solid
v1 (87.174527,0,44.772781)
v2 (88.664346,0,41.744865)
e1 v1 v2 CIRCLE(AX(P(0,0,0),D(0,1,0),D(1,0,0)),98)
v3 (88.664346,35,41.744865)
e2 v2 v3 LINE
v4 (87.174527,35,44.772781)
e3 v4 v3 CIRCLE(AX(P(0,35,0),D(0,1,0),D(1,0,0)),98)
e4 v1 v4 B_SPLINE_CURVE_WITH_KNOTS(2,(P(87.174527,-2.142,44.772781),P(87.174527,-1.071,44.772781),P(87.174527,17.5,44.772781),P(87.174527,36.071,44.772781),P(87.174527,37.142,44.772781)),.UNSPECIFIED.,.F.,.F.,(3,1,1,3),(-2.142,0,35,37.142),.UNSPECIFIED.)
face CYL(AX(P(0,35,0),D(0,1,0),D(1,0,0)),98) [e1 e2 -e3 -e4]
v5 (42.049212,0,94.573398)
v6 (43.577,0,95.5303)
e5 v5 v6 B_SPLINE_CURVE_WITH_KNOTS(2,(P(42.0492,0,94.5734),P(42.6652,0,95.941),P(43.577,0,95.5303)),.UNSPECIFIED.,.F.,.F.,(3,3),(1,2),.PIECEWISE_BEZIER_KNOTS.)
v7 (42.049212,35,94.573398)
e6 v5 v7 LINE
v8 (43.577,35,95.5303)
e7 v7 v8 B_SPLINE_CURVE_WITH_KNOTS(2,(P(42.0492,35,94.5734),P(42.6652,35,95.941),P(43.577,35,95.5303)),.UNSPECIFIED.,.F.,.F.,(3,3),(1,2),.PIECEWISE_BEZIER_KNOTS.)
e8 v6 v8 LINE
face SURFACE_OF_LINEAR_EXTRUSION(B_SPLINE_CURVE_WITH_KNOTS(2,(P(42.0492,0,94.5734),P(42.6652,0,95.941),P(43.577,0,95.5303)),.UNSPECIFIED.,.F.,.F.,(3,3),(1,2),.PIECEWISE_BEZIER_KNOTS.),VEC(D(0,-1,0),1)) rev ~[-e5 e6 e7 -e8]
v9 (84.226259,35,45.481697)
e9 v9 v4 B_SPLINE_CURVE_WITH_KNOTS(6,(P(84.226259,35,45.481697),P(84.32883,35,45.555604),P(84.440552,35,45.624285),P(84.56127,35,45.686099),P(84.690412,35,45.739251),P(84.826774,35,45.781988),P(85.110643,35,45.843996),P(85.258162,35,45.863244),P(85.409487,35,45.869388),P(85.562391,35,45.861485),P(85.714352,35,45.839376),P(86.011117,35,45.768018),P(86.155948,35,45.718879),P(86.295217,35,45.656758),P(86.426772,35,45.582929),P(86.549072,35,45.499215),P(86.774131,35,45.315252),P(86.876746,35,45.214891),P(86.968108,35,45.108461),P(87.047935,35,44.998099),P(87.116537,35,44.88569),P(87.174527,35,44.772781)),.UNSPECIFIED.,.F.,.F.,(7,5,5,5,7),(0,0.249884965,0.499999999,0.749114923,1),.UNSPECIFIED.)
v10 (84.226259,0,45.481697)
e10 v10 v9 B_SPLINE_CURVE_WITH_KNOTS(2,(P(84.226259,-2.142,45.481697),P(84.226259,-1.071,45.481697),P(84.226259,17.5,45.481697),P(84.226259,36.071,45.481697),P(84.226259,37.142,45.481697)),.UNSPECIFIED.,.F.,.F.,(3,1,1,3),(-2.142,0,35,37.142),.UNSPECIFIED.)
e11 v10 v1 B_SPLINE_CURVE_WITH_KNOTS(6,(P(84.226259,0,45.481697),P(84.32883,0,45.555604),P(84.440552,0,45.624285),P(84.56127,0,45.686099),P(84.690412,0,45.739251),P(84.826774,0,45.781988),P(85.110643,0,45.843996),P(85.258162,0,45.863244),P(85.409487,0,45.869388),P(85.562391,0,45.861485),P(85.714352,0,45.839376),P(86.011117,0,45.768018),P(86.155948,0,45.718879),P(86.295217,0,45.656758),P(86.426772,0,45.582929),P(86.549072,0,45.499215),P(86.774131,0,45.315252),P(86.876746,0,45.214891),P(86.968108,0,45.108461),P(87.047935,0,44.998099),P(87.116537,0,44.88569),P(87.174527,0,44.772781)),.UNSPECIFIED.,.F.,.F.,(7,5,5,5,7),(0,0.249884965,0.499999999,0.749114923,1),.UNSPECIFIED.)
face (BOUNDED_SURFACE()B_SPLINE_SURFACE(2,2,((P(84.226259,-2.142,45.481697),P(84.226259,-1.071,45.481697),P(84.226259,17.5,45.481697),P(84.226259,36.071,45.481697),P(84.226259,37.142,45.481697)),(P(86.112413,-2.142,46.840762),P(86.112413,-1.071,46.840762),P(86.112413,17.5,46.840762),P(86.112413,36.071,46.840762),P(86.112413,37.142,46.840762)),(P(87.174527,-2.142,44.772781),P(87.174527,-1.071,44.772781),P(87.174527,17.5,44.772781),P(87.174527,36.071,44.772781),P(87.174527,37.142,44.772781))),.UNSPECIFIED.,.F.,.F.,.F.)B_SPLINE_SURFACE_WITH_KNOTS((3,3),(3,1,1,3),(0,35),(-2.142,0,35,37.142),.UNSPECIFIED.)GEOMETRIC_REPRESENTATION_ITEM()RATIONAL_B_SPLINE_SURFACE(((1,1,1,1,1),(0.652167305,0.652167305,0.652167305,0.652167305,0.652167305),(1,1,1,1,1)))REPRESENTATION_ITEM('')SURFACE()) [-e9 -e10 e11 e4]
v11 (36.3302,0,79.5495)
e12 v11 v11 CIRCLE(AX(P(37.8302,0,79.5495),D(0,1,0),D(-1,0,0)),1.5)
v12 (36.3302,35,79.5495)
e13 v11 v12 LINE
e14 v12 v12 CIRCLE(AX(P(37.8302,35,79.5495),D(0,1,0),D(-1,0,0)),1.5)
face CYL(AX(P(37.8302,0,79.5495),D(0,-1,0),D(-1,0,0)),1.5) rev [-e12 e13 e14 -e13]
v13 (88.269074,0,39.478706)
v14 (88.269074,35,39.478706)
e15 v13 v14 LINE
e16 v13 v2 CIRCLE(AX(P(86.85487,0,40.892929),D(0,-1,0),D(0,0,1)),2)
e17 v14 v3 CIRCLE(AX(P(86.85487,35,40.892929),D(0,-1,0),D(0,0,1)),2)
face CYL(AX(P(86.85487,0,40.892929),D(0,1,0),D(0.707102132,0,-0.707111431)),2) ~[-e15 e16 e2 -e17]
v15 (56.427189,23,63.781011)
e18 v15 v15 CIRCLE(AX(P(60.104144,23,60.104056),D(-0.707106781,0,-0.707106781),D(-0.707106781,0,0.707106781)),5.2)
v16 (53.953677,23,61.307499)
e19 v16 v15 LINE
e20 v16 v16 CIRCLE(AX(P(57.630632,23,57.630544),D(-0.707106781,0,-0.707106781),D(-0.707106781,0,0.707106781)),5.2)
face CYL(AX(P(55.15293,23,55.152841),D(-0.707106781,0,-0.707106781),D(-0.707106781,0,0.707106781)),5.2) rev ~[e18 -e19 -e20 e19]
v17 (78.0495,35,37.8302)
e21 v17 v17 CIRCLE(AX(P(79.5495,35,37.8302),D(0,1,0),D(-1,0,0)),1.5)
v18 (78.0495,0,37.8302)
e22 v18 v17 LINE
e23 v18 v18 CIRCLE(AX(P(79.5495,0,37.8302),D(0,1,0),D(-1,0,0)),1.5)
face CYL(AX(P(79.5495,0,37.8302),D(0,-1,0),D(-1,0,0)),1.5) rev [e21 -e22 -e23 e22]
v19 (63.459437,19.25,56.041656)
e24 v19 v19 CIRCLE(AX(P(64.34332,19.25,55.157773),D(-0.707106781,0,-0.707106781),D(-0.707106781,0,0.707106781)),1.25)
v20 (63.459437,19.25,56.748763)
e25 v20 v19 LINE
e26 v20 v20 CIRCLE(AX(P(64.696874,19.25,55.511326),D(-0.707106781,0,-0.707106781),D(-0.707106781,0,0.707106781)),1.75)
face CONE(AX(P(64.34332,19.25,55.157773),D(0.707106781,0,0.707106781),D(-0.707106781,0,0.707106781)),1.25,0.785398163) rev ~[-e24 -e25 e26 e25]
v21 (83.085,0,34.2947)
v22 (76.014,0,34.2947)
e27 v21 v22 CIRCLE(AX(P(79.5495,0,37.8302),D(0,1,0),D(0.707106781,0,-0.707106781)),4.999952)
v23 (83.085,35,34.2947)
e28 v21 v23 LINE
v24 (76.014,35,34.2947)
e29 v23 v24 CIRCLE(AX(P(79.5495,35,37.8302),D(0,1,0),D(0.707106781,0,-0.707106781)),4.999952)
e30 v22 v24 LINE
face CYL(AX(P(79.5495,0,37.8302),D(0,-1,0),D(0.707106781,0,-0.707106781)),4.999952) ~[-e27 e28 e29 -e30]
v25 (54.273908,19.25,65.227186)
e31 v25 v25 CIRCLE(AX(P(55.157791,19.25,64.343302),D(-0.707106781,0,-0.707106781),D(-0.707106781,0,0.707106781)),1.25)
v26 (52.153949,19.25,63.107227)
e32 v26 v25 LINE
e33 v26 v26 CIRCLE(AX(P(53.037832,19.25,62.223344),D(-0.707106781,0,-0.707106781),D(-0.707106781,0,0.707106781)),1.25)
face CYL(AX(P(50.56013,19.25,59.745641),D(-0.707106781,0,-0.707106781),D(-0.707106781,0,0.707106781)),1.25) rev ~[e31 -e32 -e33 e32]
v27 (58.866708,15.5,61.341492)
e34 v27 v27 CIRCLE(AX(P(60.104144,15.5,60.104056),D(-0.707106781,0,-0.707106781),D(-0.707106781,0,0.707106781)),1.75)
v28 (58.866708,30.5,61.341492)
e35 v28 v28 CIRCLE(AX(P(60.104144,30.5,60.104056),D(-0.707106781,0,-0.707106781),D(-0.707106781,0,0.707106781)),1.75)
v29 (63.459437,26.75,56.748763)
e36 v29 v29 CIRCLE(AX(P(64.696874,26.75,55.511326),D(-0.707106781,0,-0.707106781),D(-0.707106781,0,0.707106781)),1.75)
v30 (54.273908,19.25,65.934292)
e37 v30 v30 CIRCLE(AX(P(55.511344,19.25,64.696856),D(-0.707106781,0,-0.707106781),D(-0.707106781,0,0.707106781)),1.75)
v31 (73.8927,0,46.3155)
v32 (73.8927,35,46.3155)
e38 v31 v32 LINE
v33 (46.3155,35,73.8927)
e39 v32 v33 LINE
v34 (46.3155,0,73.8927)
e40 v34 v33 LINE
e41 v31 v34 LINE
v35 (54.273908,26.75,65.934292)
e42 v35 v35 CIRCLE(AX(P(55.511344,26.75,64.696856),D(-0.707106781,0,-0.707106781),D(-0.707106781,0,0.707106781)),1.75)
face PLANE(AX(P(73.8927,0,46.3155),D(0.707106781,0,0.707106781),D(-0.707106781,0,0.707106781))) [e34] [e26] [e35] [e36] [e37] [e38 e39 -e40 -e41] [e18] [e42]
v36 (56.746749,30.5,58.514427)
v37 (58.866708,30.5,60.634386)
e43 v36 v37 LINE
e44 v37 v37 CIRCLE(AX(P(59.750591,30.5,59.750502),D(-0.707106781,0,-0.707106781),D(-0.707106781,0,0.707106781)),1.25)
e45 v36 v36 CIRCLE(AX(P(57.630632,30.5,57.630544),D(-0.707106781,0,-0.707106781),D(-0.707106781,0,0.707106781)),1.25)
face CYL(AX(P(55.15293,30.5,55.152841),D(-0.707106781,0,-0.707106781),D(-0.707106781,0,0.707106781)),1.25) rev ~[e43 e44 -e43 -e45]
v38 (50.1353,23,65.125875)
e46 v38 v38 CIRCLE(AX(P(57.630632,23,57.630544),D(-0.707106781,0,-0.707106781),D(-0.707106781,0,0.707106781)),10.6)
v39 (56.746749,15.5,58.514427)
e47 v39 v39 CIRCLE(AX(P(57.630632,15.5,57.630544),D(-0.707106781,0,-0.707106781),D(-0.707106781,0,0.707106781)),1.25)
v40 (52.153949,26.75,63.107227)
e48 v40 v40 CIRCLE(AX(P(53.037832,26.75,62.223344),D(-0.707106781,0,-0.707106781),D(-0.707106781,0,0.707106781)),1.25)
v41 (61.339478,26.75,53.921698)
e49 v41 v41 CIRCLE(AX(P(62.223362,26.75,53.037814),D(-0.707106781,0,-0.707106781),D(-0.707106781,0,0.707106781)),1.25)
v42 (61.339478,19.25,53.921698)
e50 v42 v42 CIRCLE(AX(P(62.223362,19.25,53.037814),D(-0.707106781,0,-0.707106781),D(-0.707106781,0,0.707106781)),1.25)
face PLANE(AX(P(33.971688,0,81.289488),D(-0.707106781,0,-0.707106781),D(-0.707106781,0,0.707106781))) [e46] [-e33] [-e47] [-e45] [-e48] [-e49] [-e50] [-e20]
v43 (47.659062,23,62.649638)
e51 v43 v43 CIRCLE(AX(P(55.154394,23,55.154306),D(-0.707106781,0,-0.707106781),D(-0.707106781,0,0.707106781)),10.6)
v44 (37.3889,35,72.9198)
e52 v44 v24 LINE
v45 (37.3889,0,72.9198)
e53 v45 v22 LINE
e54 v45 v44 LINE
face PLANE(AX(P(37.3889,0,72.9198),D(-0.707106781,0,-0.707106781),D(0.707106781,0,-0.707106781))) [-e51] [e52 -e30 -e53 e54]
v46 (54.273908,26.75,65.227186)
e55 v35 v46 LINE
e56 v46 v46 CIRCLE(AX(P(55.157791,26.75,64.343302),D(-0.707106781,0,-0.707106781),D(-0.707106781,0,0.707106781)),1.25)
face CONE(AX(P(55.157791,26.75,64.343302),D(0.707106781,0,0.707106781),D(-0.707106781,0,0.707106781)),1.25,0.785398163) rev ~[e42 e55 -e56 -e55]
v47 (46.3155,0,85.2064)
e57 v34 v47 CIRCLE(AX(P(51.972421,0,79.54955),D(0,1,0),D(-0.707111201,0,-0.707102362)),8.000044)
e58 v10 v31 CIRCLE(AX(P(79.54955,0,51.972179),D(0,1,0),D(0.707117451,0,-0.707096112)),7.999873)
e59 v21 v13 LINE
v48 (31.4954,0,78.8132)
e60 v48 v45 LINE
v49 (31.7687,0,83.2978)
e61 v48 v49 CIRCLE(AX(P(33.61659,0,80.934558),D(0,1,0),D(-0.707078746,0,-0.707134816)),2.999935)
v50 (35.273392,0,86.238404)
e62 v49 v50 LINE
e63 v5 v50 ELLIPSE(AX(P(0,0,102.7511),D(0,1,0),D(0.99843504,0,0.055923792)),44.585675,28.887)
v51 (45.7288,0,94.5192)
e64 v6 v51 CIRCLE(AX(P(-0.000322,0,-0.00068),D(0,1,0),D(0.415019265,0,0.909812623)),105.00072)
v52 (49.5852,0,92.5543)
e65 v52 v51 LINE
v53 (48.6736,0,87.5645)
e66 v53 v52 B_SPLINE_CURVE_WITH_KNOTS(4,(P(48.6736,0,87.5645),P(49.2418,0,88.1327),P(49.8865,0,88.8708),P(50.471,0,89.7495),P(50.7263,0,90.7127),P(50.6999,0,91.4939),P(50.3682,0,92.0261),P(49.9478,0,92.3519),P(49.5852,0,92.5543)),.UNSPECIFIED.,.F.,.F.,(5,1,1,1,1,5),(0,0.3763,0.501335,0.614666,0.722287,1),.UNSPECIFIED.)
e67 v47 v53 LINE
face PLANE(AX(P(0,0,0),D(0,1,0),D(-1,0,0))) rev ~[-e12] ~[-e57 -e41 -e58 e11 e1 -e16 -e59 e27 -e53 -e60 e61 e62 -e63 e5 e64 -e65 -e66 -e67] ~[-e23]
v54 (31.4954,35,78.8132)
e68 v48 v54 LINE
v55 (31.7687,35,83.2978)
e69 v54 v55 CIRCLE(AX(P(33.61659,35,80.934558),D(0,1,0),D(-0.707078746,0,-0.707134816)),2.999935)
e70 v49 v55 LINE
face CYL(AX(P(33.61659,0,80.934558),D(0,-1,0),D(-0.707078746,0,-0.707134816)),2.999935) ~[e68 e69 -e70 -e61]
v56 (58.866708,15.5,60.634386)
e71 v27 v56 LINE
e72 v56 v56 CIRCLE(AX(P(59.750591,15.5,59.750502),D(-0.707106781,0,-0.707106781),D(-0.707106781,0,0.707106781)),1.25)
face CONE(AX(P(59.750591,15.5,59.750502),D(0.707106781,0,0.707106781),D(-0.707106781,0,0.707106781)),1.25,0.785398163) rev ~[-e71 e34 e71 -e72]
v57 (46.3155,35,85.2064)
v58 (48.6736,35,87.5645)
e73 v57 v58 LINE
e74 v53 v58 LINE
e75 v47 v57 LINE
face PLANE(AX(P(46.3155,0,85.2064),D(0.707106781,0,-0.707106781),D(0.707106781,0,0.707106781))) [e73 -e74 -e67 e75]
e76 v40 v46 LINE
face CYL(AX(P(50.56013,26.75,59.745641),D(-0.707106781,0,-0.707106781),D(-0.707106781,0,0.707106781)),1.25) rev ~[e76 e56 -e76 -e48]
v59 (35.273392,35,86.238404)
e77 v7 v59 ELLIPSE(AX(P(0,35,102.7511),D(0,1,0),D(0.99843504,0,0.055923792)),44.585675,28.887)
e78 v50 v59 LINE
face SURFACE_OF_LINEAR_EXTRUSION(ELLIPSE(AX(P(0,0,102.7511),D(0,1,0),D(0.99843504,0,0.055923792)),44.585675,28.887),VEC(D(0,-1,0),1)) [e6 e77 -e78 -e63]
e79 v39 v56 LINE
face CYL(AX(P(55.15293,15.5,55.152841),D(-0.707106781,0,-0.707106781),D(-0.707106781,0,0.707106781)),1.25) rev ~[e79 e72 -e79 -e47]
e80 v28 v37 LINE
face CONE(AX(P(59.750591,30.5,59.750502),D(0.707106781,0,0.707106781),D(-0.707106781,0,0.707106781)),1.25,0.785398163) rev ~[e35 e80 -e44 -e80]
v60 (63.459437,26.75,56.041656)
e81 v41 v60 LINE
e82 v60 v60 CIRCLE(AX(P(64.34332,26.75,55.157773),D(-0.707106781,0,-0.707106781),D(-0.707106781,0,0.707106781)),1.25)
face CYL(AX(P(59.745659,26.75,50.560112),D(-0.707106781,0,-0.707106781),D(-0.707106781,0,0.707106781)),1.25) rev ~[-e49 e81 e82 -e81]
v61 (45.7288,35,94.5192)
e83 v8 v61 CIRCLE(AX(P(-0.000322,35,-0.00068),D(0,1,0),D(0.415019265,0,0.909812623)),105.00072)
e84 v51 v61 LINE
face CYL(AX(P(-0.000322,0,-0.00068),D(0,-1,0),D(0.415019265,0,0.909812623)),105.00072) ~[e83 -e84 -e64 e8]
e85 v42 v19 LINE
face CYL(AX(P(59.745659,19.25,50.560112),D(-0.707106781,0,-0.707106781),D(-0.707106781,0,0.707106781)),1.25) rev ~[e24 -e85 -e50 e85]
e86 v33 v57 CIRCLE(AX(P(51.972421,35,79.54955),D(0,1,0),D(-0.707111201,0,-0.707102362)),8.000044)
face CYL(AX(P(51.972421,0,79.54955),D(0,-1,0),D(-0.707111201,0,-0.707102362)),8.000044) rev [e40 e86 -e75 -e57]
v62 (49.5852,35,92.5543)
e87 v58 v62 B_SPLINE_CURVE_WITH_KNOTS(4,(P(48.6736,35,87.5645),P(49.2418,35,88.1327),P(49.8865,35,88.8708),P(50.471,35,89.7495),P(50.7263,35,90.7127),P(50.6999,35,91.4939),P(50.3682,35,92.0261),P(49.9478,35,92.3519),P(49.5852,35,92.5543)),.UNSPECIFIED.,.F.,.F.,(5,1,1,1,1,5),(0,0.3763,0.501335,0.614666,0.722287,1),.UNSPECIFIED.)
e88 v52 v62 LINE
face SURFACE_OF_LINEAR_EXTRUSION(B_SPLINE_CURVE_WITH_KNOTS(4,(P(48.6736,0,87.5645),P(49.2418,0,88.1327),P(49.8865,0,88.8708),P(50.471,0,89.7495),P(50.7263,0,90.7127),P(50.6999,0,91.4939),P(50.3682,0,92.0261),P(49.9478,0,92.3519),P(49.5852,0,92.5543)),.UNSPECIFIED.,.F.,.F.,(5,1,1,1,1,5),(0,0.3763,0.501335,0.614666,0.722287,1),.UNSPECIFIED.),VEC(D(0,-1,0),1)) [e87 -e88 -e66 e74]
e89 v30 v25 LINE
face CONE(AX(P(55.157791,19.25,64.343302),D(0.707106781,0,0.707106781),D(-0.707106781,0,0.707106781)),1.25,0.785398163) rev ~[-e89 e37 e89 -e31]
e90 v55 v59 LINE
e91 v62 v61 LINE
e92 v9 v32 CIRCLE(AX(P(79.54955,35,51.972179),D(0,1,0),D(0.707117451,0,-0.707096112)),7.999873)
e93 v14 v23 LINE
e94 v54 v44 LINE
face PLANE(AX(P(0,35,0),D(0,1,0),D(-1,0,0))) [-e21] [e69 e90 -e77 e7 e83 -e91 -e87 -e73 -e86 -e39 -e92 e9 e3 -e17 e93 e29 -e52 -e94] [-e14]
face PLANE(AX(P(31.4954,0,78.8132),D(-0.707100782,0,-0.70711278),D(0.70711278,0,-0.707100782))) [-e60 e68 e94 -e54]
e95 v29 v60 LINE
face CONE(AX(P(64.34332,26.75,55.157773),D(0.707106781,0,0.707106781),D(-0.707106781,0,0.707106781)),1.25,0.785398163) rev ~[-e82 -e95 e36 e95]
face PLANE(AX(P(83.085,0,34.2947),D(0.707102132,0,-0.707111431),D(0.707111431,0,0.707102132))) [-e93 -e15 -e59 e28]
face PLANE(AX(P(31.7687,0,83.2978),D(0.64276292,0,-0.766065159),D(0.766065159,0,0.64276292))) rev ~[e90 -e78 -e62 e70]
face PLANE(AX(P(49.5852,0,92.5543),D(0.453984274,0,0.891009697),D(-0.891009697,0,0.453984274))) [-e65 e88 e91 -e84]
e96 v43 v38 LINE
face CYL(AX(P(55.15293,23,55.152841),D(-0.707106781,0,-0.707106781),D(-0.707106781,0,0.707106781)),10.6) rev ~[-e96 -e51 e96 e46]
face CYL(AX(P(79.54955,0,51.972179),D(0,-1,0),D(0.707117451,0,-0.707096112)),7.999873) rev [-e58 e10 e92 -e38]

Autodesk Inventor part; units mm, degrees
ref_plane "YZ Plane" through (0, 0, 0) normal (1, 0, 0) x (0, 1, 0)
ref_plane "XZ Plane" through (0, 0, 0) normal (0, 1, 0) x (-1, 0, 0)
ref_plane "XY Plane" through (0, 0, 0) normal (0, 0, 1) x (1, 0, 0)
sketch "Эскиз1" plane through (0, 0, 0) normal (0, 1, 0) x (-1, 0, 0)
  line L0 (34.2947, -76.014) -> (76.014, -34.2947)
  arc A0 (83.085, -34.2947) -> (76.014, -34.2947) centre (79.5495, -37.8302) ccw
  line L1 (83.085, -34.2947) -> (87.156, -38.3657)
  line L2 (46.3155, -73.8927) -> (73.8927, -46.3155)
  arc A1 (85.2064, -46.3155) -> (73.8927, -46.3155) centre (79.5495, -51.9723) ccw
  line L3 (85.2064, -46.3155) -> (87.5645, -48.6736)
  line L4 (92.5543, -49.5852) -> (94.5192, -45.7288)
  line L5 (87.156, -38.3657) -> (94.5192, -45.7288)
  line L6 (34.2947, -83.085) -> (38.3657, -87.156)
  arc A2 (34.2947, -76.014) -> (34.2947, -83.085) centre (37.8302, -79.5495) ccw
  arc A3 (46.3155, -73.8927) -> (46.3155, -85.2064) centre (51.9723, -79.5495) ccw
  line L7 (48.6736, -87.5645) -> (46.3155, -85.2064)
  line L8 (48.7014, -93.0224) -> (45.7288, -94.5192)
  line L9 (38.3657, -87.156) -> (45.7288, -94.5192)
  spline S0 degree 4 poles (87.5645, -48.6736) (88.1327, -49.2418) (88.8708, -49.8865) (89.7495, -50.471) (90.7127, -50.7263) (91.4939, -50.6999) (92.0261, -50.3682) (92.3519, -49.9478) (92.5543, -49.5852) knots 0 0 0 0 0 0.3763 0.501335 0.614666 0.722287 1 1 1 1 1
  spline S1 degree 4 poles (48.6736, -87.5645) (49.2196, -88.1111) (49.8318, -88.8375) (50.3553, -89.7359) (50.492, -90.7638) (50.3179, -91.6771) (49.7988, -92.3195) (49.2087, -92.7429) (48.7014, -93.0224) knots 0 0 0 0 0 0.349502 0.469309 0.582088 0.694155 1 1 1 1 1
  line L10 (-34.2947, -83.085) -> (-38.3657, -87.156)
  arc A4 (-34.2947, -83.085) -> (-34.2947, -76.014) centre (-37.8302, -79.5495) ccw
  line L11 (-34.2947, -76.014) -> (-76.014, -34.2947)
  arc A5 (-76.014, -34.2947) -> (-83.085, -34.2947) centre (-79.5495, -37.8302) ccw
  line L12 (-83.085, -34.2947) -> (-87.156, -38.3657)
  spline S2 degree 4 poles (-87.5645, -48.6736) (-88.2885, -48.9172) (-89.2042, -49.1636) (-90.2127, -49.3583) (-91.1755, -49.4962) (-91.8005, -49.5722) (-92.1945, -49.6037) (-92.4378, -49.611) (-92.5543, -49.5852) knots 0 0 0 0 0 0.418057 0.557932 0.680976 0.788364 1 1 1 1 1
  line L13 (-85.2064, -46.3155) -> (-87.5645, -48.6736)
  arc A6 (-73.8927, -46.3155) -> (-85.2064, -46.3155) centre (-79.5495, -51.9723) ccw
  line L14 (-46.3155, -73.8927) -> (-73.8927, -46.3155)
  arc A7 (-46.3155, -85.2064) -> (-46.3155, -73.8927) centre (-51.9723, -79.5495) ccw
  spline S3 degree 4 poles (-48.6736, -87.5645) (-49.2196, -88.1111) (-49.8318, -88.8375) (-50.3553, -89.7359) (-50.492, -90.7638) (-50.3179, -91.6771) (-49.7988, -92.3195) (-49.2087, -92.7429) (-48.7014, -93.0224) knots 0 0 0 0 0 0.349502 0.469309 0.582088 0.694155 1 1 1 1 1
  line L15 (-48.6736, -87.5645) -> (-46.3155, -85.2064)
  arc A8 (-92.5543, 49.5852) -> (-92.5543, -49.5852) centre (0, 0) ccw construction
  arc A9 (-48.7014, -93.0224) -> (48.7014, -93.0224) centre (0, 0) ccw construction
  line L16 (-38.3657, -87.156) -> (-45.7288, -94.5192)
  line L17 (-87.156, -38.3657) -> (-94.5192, -45.7288)
  line L18 (-92.5543, -49.5852) -> (-94.5192, -45.7288)
  line L19 (-48.7014, -93.0224) -> (-45.7288, -94.5192)
  line L20 (0, 0) -> (0, 95.3237) construction
  line L21 (34.2947, -76.014) -> (76.014, -34.2947)
  arc A10 (83.085, -34.2947) -> (76.014, -34.2947) centre (79.5495, -37.8302) ccw
  line L22 (83.085, -34.2947) -> (87.156, -38.3657)
  line L23 (46.3155, -73.8927) -> (73.8927, -46.3155)
  arc A11 (85.2064, -46.3155) -> (73.8927, -46.3155) centre (79.5495, -51.9723) ccw
  line L24 (85.2064, -46.3155) -> (87.5645, -48.6736)
  line L25 (92.5543, -49.5852) -> (94.5192, -45.7288)
  arc A12 (92.5543, -49.5852) -> (92.5543, 49.5852) centre (0, 0) ccw construction
  line L26 (87.156, -38.3657) -> (94.5192, -45.7288)
  line L27 (34.2947, -83.085) -> (38.3657, -87.156)
  arc A13 (34.2947, -76.014) -> (34.2947, -83.085) centre (37.8302, -79.5495) ccw
  arc A14 (46.3155, -73.8927) -> (46.3155, -85.2064) centre (51.9723, -79.5495) ccw
  line L28 (48.6736, -87.5645) -> (46.3155, -85.2064)
  line L29 (48.7014, -93.0224) -> (45.7288, -94.5192)
  line L30 (38.3657, -87.156) -> (45.7288, -94.5192)
  arc A15 (-48.7014, -93.0224) -> (48.7014, -93.0224) centre (0, 0) ccw construction
  spline S4 degree 4 poles (87.5645, -48.6736) (88.1327, -49.2418) (88.8708, -49.8865) (89.7495, -50.471) (90.7127, -50.7263) (91.4939, -50.6999) (92.0261, -50.3682) (92.3519, -49.9478) (92.5543, -49.5852) knots 0 0 0 0 0 0.3763 0.501335 0.614666 0.722287 1 1 1 1 1
  spline S5 degree 4 poles (48.6736, -87.5645) (49.2196, -88.1111) (49.8318, -88.8375) (50.3553, -89.7359) (50.492, -90.7638) (50.3179, -91.6771) (49.7988, -92.3195) (49.2087, -92.7429) (48.7014, -93.0224) knots 0 0 0 0 0 0.349502 0.469309 0.582088 0.694155 1 1 1 1 1
  line L31 (52.2091, 91.1) -> (48.6736, 87.5645) construction
  line L32 (52.2091, 91.1) -> (48.6736, 87.5645) construction
  line L33 (48.6736, 87.5645) -> (52.2091, 91.1) construction
  spline S6 degree 2 poles (48.6736, 87.5645) (52.2091, 91.1) (48.7014, 93.0224) knots 1 1 1 2 2 2 construction
  line L34 (52.2091, 91.1) -> (48.7014, 93.0224) construction
  line L35 (91.1, 52.2091) -> (52.2091, 91.1) construction
  arc A16 (92.5543, 49.5852) -> (48.7014, 93.0224) centre (0, 0) ccw construction
  line L36 (44.1942, 76.014) -> (76.014, 44.1942) construction
  line L37 (0, 56.6418) -> (-35.5516, 86.4744) construction
  arc A17 (0, 67.941) -> (23.7825, 76.5969) centre (0, 104.941) ccw construction
  arc A18 (-23.7825, 76.5969) -> (0, 67.941) centre (0, 104.941) ccw construction
  line L38 (-23.7825, 76.5969) -> (-35.2734, 86.2384) construction
  line L39 (0, 104.941) -> (-23.6028, 54.3247) construction
  arc A19 (-28.0199, 71.0163) -> (5.5413, 61.2914) centre (0, 104.941) ccw construction
  arc A20 (5.5413, 61.2914) -> (28.0199, 71.0163) centre (0, 104.941) ccw construction
  arc A21 (-30.6393, 73.2144) -> (-37.3889, 72.9198) centre (-33.8534, 69.3842) ccw construction
  line L40 (0, 56.6418) -> (23.7825, 76.5969) construction
  line L41 (23.7825, 76.5969) -> (35.2734, 86.2384) construction
  line L42 (0, 0) -> (74.2462, 74.2462) construction
  line L43 (42.6652, 95.941) -> (42.0492, 94.5734) construction
  line L44 (42.0492, 94.5734) -> (42.6652, 95.941) construction
  spline S7 degree 2 poles (42.0492, 94.5734) (42.6652, 95.941) (43.577, 95.5303) knots 1 1 1 2 2 2 construction
  line L45 (42.6652, 95.941) -> (43.577, 95.5303) construction
  arc A22 (-44.1942, 76.014) -> (-44.1942, 83.085) centre (-47.7297, 79.5495) ccw construction
  arc A23 (92.5543, -49.5852) -> (92.5543, 49.5852) centre (0, 0) ccw construction
  circle A24 centre (0, 0) radius 35 construction
  spline S8 degree 2 poles (-48.6736, 87.5645) (-52.2091, 91.1) (-48.7014, 93.0224) knots 1 1 1 2 2 2 construction
  line L46 (-48.6736, 87.5645) -> (-52.2091, 91.1) construction
  line L47 (-52.2091, 91.1) -> (-48.7014, 93.0224) construction
  arc A25 (-83.085, 44.1942) -> (-76.014, 44.1942) centre (-79.5495, 47.7297) ccw construction
  line L48 (-83.085, 44.1942) -> (-85.2064, 46.3155) construction
  line L49 (-44.1942, 76.014) -> (-46.3155, 73.8927) construction
  arc A26 (-48.7014, 93.0224) -> (-92.5543, 49.5852) centre (0, 0) ccw construction
  line L50 (-42.6652, 95.941) -> (-42.0492, 94.5734) construction
  arc A27 (-43.577, 95.5303) -> (-48.7014, 93.0224) centre (0, 0) ccw
  ellipse E0 centre (0, 102.7511) end of major axis (-44.5159, 105.2445) minor radius 28.887 (-42.0492, 94.5734) -> (-35.2734, 86.2384) ccw
  line L51 (-42.0492, 94.5734) -> (-42.6652, 95.941) construction
  spline S9 degree 2 poles (-42.0492, 94.5734) (-42.6652, 95.941) (-43.577, 95.5303) knots 1 1 1 2 2 2 construction
  line L52 (-42.6652, 95.941) -> (-43.577, 95.5303) construction
  line L53 (-42.0492, 94.5734) -> (-42.6652, 95.941) construction
  spline S10 degree 2 poles (-42.0492, 94.5734) (-42.6652, 95.941) (-43.577, 95.5303) knots 1 1 1 2 2 2
  line L54 (-42.6652, 95.941) -> (-43.577, 95.5303) construction
  line L55 (-42.6652, 95.941) -> (-43.577, 95.5303) construction
  line L56 (-44.1942, 83.085) -> (-48.6736, 87.5645) construction
  line L57 (-37.3889, 72.9198) -> (-76.014, 34.2947)
  arc A28 (-83.085, 34.2947) -> (-76.014, 34.2947) centre (-79.5495, 37.8302) ccw
  line L58 (-83.085, 34.2947) -> (-90.6891, 41.8987)
  arc A29 (-87.3563, 48.4654) -> (-90.6891, 41.8987) centre (0, 0) ccw construction
  line L59 (-93.5297, 47.6709) -> (-92.5543, 49.5852) construction
  arc A30 (85.2064, -46.3155) -> (73.8927, -46.3155) centre (79.5495, -51.9723) ccw construction
  line L60 (85.2064, -46.3155) -> (87.5645, -48.6736) construction
  spline S11 degree 2 poles (87.5645, -48.6736) (91.1, -52.2091) (92.5543, -49.5852) knots 1 1 1 2 2 2 construction
  line L61 (87.5645, -48.6736) -> (91.1, -52.2091) construction
  line L62 (91.1, -52.2091) -> (92.5543, -49.5852) construction
  line L63 (46.3155, -73.8927) -> (73.8927, -46.3155) construction
  line L64 (48.6736, -87.5645) -> (46.3155, -85.2064) construction
  line L65 (48.6736, -87.5645) -> (52.2091, -91.1) construction
  spline S12 degree 2 poles (48.6736, -87.5645) (52.2091, -91.1) (48.7014, -93.0224) knots 1 1 1 2 2 2 construction
  line L66 (52.2091, -91.1) -> (48.7014, -93.0224) construction
  arc A31 (46.3155, -73.8927) -> (46.3155, -85.2064) centre (51.9723, -79.5495) ccw construction
  arc A32 (48.7014, -93.0224) -> (92.5543, -49.5852) centre (0, 0) ccw construction
  arc A33 (-48.7014, -93.0224) -> (48.7014, -93.0224) centre (0, 0) ccw construction
  arc A34 (-90.6891, 41.8987) -> (-87.3563, 48.4654) centre (0, 0) ccw construction
  line L67 (42.6652, 95.941) -> (-42.6652, 95.941) construction
  line L68 (-48.6736, -87.5645) -> (-52.2091, -91.1) construction
  spline S13 degree 2 poles (-48.6736, -87.5645) (-52.2091, -91.1) (-48.7014, -93.0224) knots 1 1 1 2 2 2 construction
  line L69 (-52.2091, -91.1) -> (-48.7014, -93.0224) construction
  line L70 (-91.1, -52.2091) -> (-92.5543, -49.5852) construction
  spline S14 degree 2 poles (-87.5645, -48.6736) (-91.1, -52.2091) (-92.5543, -49.5852) knots 1 1 1 2 2 2 construction
  line L71 (-87.5645, -48.6736) -> (-91.1, -52.2091) construction
  arc A35 (-92.5543, -49.5852) -> (-48.7014, -93.0224) centre (0, 0) ccw construction
  line L72 (-48.6736, -87.5645) -> (-46.3155, -85.2064) construction
  arc A36 (-73.8927, -46.3155) -> (-85.2064, -46.3155) centre (-79.5495, -51.9723) ccw construction
  line L73 (-85.2064, -46.3155) -> (-87.5645, -48.6736) construction
  line L74 (-46.3155, -73.8927) -> (-73.8927, -46.3155) construction
  arc A37 (-46.3155, -85.2064) -> (-46.3155, -73.8927) centre (-51.9723, -79.5495) ccw construction
  arc A38 (-92.5543, 49.5852) -> (-92.5543, -49.5852) centre (0, 0) ccw construction
  arc A39 (44.1942, 83.085) -> (44.1942, 76.014) centre (47.7297, 79.5495) ccw construction
  arc A40 (44.0271, 95.3237) -> (43.577, 95.5303) centre (0, 0) ccw construction
  line L75 (42.6652, 95.941) -> (43.577, 95.5303) construction
  arc A41 (48.7014, 93.0224) -> (44.0271, 95.3237) centre (0, 0) ccw construction
  line L76 (52.2091, 91.1) -> (48.7014, 93.0224) construction
  line L77 (83.085, 44.1942) -> (87.5645, 48.6736) construction
  ellipse E1 centre (0, 102.7511) end of major axis (44.5159, 105.2445) minor radius 28.887 (35.2734, 86.2384) -> (42.0492, 94.5734) ccw construction
  arc A42 (76.014, 44.1942) -> (83.085, 44.1942) centre (79.5495, 47.7297) ccw construction
  line L78 (0, 0) -> (0, 209.8821) construction
  arc A43 (43.577, 95.5303) -> (-43.577, 95.5303) centre (0, 0) ccw construction
  arc A44 (23.7825, 76.5969) -> (0, 67.941) centre (0, 104.941) ccw construction
  line L79 (44.0271, 95.3237) -> (44.0271, 127.8162) construction
  ellipse E2 centre (0, 102.7511) end of major axis (44.0271, 102.7511) minor radius 27.5932 (42.0492, 94.5734) -> (35.2734, 86.2384) ccw construction
  line L80 (-30.6393, 73.2144) -> (-28.0199, 71.0163) construction
  arc A45 (28.0199, 71.0163) -> (-28.0199, 71.0163) centre (0, 104.941) ccw construction
  line L81 (30.6393, 73.2144) -> (28.0199, 71.0163) construction
  arc A46 (37.3889, 72.9198) -> (30.6393, 73.2144) centre (33.8534, 69.3842) ccw construction
  line L82 (44.0271, 95.3237) -> (43.577, 95.5303) construction
  arc A47 (44.1942, 83.085) -> (44.1942, 76.014) centre (47.7297, 79.5495) ccw construction
  line L83 (48.6736, 87.5645) -> (44.1942, 83.085) construction
  line L84 (37.3889, 72.9198) -> (76.014, 34.2947) construction
  line L85 (44.1942, 76.014) -> (76.014, 44.1942) construction
  arc A48 (76.014, 44.1942) -> (83.085, 44.1942) centre (79.5495, 47.7297) ccw construction
  arc A49 (76.014, 34.2947) -> (83.085, 34.2947) centre (79.5495, 37.8302) ccw construction
  line L86 (83.085, 44.1942) -> (87.3563, 48.4654) construction
  line L87 (83.085, 34.2947) -> (90.6891, 41.8987) construction
  arc A50 (90.6891, 41.8987) -> (87.3563, 48.4654) centre (0, 0) ccw construction
  arc A51 (-83.085, 34.2947) -> (-76.014, 34.2947) centre (-79.5495, 37.8302) ccw
  line L88 (-87.156, 38.3657) -> (-94.5192, 45.7288)
  line L89 (-93.0224, 48.7014) -> (-94.5192, 45.7288)
  arc A52 (-85.2064, 46.3155) -> (-73.8927, 46.3155) centre (-79.5495, 51.9723) ccw
  line L90 (-87.5645, 48.6736) -> (-85.2064, 46.3155)
  line L91 (-83.085, 34.2947) -> (-87.156, 38.3657)
  line L92 (-73.8927, 46.3155) -> (-46.3155, 73.8927)
  spline S15 degree 4 poles (-87.5645, 48.6736) (-88.1111, 49.2196) (-88.8375, 49.8318) (-89.7359, 50.3553) (-90.7638, 50.492) (-91.6771, 50.3179) (-92.3195, 49.7988) (-92.7429, 49.2087) (-93.0224, 48.7014) knots 0 0 0 0 0 0.349502 0.469309 0.582088 0.694155 1 1 1 1 1
  arc A53 (-34.2947, 76.014) -> (-34.2947, 83.085) centre (-37.8302, 79.5495) ccw construction
  line L93 (-34.2947, 83.085) -> (-38.3657, 87.156) construction
  arc A54 (-46.3155, 73.8927) -> (-46.3155, 85.2064) centre (-51.9723, 79.5495) ccw
  line L94 (-46.3155, 85.2064) -> (-48.6736, 87.5645)
  spline S16 degree 4 poles (-48.6736, 87.5645) (-49.2418, 88.1327) (-49.8865, 88.8708) (-50.471, 89.7495) (-50.7263, 90.7127) (-50.6999, 91.4939) (-50.3682, 92.0261) (-49.9478, 92.3519) (-49.5852, 92.5543) knots 0 0 0 0 0 0.3763 0.501335 0.614666 0.722287 1 1 1 1 1
  line L95 (-49.5852, 92.5543) -> (-45.7288, 94.5192)
  line L96 (-38.3657, 87.156) -> (-45.7288, 94.5192) construction
  arc A55 (-34.2947, 76.014) -> (-34.2947, 83.085) centre (-37.8302, 79.5495) ccw construction
  line L97 (-34.2947, 83.085) -> (-38.3657, 87.156) construction
  arc A56 (-46.3155, 73.8927) -> (-46.3155, 85.2064) centre (-51.9723, 79.5495) ccw
  line L98 (-46.3155, 85.2064) -> (-48.6736, 87.5645)
  spline S17 degree 4 poles (-48.6736, 87.5645) (-49.2418, 88.1327) (-49.8865, 88.8708) (-50.471, 89.7495) (-50.7263, 90.7127) (-50.6999, 91.4939) (-50.3682, 92.0261) (-49.9478, 92.3519) (-49.5852, 92.5543) knots 0 0 0 0 0 0.3763 0.501335 0.614666 0.722287 1 1 1 1 1
  line L99 (-49.5852, 92.5543) -> (-45.7288, 94.5192)
  line L100 (-38.3657, 87.156) -> (-45.7288, 94.5192) construction
  arc A57 (-83.085, 34.2947) -> (-76.014, 34.2947) centre (-79.5495, 37.8302) ccw
  line L101 (-83.085, 34.2947) -> (-87.156, 38.3657)
  line L102 (-87.156, 38.3657) -> (-94.5192, 45.7288)
  line L103 (-93.0224, 48.7014) -> (-94.5192, 45.7288)
  spline S18 degree 4 poles (-87.5645, 48.6736) (-88.1111, 49.2196) (-88.8375, 49.8318) (-89.7359, 50.3553) (-90.7638, 50.492) (-91.6771, 50.3179) (-92.3195, 49.7988) (-92.7429, 49.2087) (-93.0224, 48.7014) knots 0 0 0 0 0 0.349502 0.469309 0.582088 0.694155 1 1 1 1 1
  arc A58 (-85.2064, 46.3155) -> (-73.8927, 46.3155) centre (-79.5495, 51.9723) ccw
  line L104 (-76.014, 34.2947) -> (-34.2947, 76.014) construction
  line L105 (-73.8927, 46.3155) -> (-46.3155, 73.8927)
  line L106 (-87.5645, 48.6736) -> (-85.2064, 46.3155)
  line L107 (-87.5645, 48.6736) -> (-91.1, 52.2091) construction
  spline S19 degree 2 poles (-87.5645, 48.6736) (-91.1, 52.2091) (-93.0224, 48.7014) knots 1 1 1 2 2 2 construction
  line L108 (-91.1, 52.2091) -> (-93.0224, 48.7014) construction
  line L109 (-48.6736, 87.5645) -> (-52.2091, 91.1) construction
  spline S20 degree 2 poles (-48.6736, 87.5645) (-52.2091, 91.1) (-49.5852, 92.5543) knots 1 1 1 2 2 2 construction
  line L110 (-52.2091, 91.1) -> (-49.5852, 92.5543) construction
  arc A59 (-49.5852, 92.5543) -> (-93.0224, 48.7014) centre (0, 0) ccw construction
  arc A60 (-46.3155, 73.8927) -> (-46.3155, 85.2064) centre (-51.9723, 79.5495) ccw construction
  line L111 (-46.3155, 85.2064) -> (-48.6736, 87.5645) construction
  line L112 (-73.8927, 46.3155) -> (-46.3155, 73.8927) construction
  arc A61 (-85.2064, 46.3155) -> (-73.8927, 46.3155) centre (-79.5495, 51.9723) ccw construction
  line L113 (-87.5645, 48.6736) -> (-85.2064, 46.3155) construction
  line L114 (-60.1041, 60.1041) -> (-55.1543, 55.1543) construction
  circle A62 centre (-79.5495, 37.8302) radius 1.5
  circle A63 centre (-37.8302, 79.5495) radius 1.5
  arc A64 (-34.995, 78.2699) -> (-31.4954, 78.8132) centre (-33.6167, 80.9346) ccw construction
  arc A65 (-36.5845, 80.4956) -> (-34.995, 78.2699) centre (-33.6167, 80.9346) ccw construction
  arc A66 (-31.7687, 83.2978) -> (-36.5845, 80.4956) centre (-33.6167, 80.9346) ccw construction
  arc A67 (-31.4954, 78.8132) -> (-31.7687, 83.2978) centre (-33.6167, 80.9346) ccw
  line L115 (-31.4954, 78.8132) -> (-29.1816, 81.127) construction
  line L116 (-46.3155, 73.8927) -> (-73.8927, 46.3155)
  line L117 (-73.8927, 46.3155) -> (-76.014, 44.1942) construction
  line L118 (-85.2064, 46.3155) -> (-87.3563, 48.4654)
  line L119 (-31.7687, 83.2978) -> (-35.2734, 86.2384)
  line L120 (99.9, 0) -> (-99.9, 0) construction
  line L121 (-31.4954, 78.8132) -> (-37.3889, 72.9198)
  point P0 (49.5385, -88.5397)
  point P1 (50.0866, -89.3893)
  point P2 (50.374, -90.1304)
  point P3 (50.4468, -90.7861)
  point P4 (50.3313, -91.3833)
  point P5 (50.0252, -91.9468)
  point P6 (49.4982, -92.4922)
  point P7 (88.5759, -49.5937)
  point P8 (89.4338, -50.2024)
  point P9 (90.1559, -50.5529)
  point P10 (90.7644, -50.6948)
  point P11 (91.2858, -50.6665)
  point P12 (91.7467, -50.4838)
  point P13 (92.1672, -50.1352)
  point P14 (-49.5385, -88.5397)
  point P15 (-50.0866, -89.3893)
  point P16 (-50.374, -90.1304)
  point P17 (-50.4468, -90.7861)
  point P18 (-50.3313, -91.3833)
  point P19 (-50.0252, -91.9468)
  point P20 (-49.4982, -92.4922)
  point P21 (-88.805, -49.0412)
  point P22 (-89.8189, -49.2713)
  point P23 (-90.6253, -49.4139)
  point P24 (-91.2526, -49.5037)
  point P25 (-91.7351, -49.5606)
  point P26 (-92.1039, -49.593)
  point P27 (-92.3767, -49.6024)
  point P28 (88.5759, -49.5937)
  point P29 (89.4338, -50.2024)
  point P30 (90.1559, -50.5529)
  point P31 (90.7644, -50.6948)
  point P32 (91.2858, -50.6665)
  point P33 (91.7467, -50.4838)
  point P34 (92.1672, -50.1352)
  point P35 (49.5385, -88.5397)
  point P36 (50.0866, -89.3893)
  point P37 (50.374, -90.1304)
  point P38 (50.4468, -90.7861)
  point P39 (50.3313, -91.3833)
  point P40 (50.0252, -91.9468)
  point P41 (49.4982, -92.4922)
  point P42 (79.5495, 40.6586)
  point P43 (40.6586, 79.5495)
  point P44 (60.1041, 60.1041)
  point P45 (-23.542, 76.3968)
  point P46 (-34.9935, 86.0061)
  point P47 (0, 95.941)
  point P48 (-15.6369, 71.4076)
  point P49 (-13.2817, 58.6489)
  point P50 (-28.5452, 71.4571)
  point P51 (13.2817, 58.6489)
  point P52 (-87.5645, 48.6736)
  point P53 (0, 105)
  point P54 (-94.5192, 45.7288)
  point P55 (0, 95.941)
  point P56 (-88.5397, 49.5385)
  point P57 (-89.3893, 50.0866)
  point P58 (-90.1304, 50.374)
  point P59 (-90.7861, 50.4468)
  point P60 (-91.3833, 50.3313)
  point P61 (-91.9468, 50.0252)
  point P62 (-92.4922, 49.4982)
  point P63 (-49.5937, 88.5759)
  point P64 (-50.2024, 89.4338)
  point P65 (-50.5529, 90.1559)
  point P66 (-50.6948, 90.7644)
  point P67 (-50.6665, 91.2858)
  point P68 (-50.4838, 91.7467)
  point P69 (-50.1352, 92.1672)
  point P70 (-49.5937, 88.5759)
  point P71 (-50.2024, 89.4338)
  point P72 (-50.5529, 90.1559)
  point P73 (-50.6948, 90.7644)
  point P74 (-50.6665, 91.2858)
  point P75 (-50.4838, 91.7467)
  point P76 (-50.1352, 92.1672)
  point P77 (-88.5397, 49.5385)
  point P78 (-89.3893, 50.0866)
  point P79 (-90.1304, 50.374)
  point P80 (-90.7861, 50.4468)
  point P81 (-91.3833, 50.3313)
  point P82 (-91.9468, 50.0252)
  point P83 (-92.4922, 49.4982)
  dimension "d63" = 44.5856
  dimension "d44" = 74
  dimension "d45" = 100
  dimension "d46" = 28
  dimension "d47" = 15
  dimension "d48" = 45
  dimension "d49" = 55
  dimension "d50" = 16.3348
  dimension "d51" = 27.5
  dimension "d52" = 5
  dimension "d53" = 5
  dimension "d54" = 1
  dimension "d55" = 1.5
  dimension "d56" = 1.5
  dimension "d57" = 1
  dimension "d58" = 4
  dimension "d59" = 70
  dimension "d60" = 85
  dimension "d61" = 105
  dimension "d62" = 1.3619
  dimension "d64" = 88
  dimension "d65" = 7
  dimension "d66" = 5
  dimension "d67" = 7
  dimension "d68" = 5
  dimension "d69" = 7
  dimension "d70" = 5
  dimension "d71" = 5.1
  dimension "d72" = 3
  dimension "d73" = 6
extrude "Выдавливание10" add sketch "Эскиз1" along normal blind 35 contours S10 E0 L119 A67 L121 L57 A28 L58 L88 L89 S15 L90 A52 L92 A54 L94 S16 L95 A27
sketch "Эскиз6" plane through (31.4954, 0, 78.8132) normal (-0.7071, 0, -0.7071) x (-0.7071, 0, 0.7071)
  line L0 (-5.4588, 35) -> (-2.4588, 35) construction
  line L1 (-64.4588, 35) -> (-61.4588, 35) construction
  line L2 (-61.4588, 0) -> (-64.4588, 0) construction
  line L3 (-5.8588, 0) -> (-2.0588, 0) construction
  line L4 (-62.9588, 0) -> (-67.9588, 0) construction
  line L5 (-62.9588, 35) -> (-62.9588, 0) construction
  line L6 (-62.9588, 35) -> (0, 35) construction
  line L7 (-3.9588, 35) -> (-3.9588, 0) construction
  line L8 (-62.9588, 0) -> (0, 0) construction
  circle A0 centre (-33.4588, 23) radius 10.6
  circle A1 centre (-33.4588, 23) radius 7.5 construction
  circle A2 centre (-33.4588, 23) radius 5.2
  circle A3 centre (-33.4588, 30.5) radius 1.25
  line L9 (-33.4588, 23) -> (-33.4588, 35) construction
  line L10 (-13.9588, 35) -> (-52.9588, 35) construction
  circle A4 centre (-39.9539, 26.75) radius 1.25
  circle A5 centre (-39.9539, 19.25) radius 1.25
  circle A6 centre (-33.4588, 15.5) radius 1.25
  circle A7 centre (-26.9636, 19.25) radius 1.25
  circle A8 centre (-26.9636, 26.75) radius 1.25
  point P0 (-33.4588, 0)
  dimension "d82" = 15
  dimension "d80" = 59
  dimension "d81" = 21.2
  dimension "d83" = 10.4
  dimension "d84" = 2.5
  dimension "d87" = 360
  dimension "d97" = 12
extrude "Выдавливание13" cut sketch "Эскиз6" against normal mid plane 33.5 contours A2 | A3 | A4 | A5 | A6 | A7 | A8
extrude "Выдавливание14" cut sketch "Эскиз6" against normal blind 3.5
chamfer "Фаска3" distance 0.5 angle 45 6 edges at (60.988, 30.5, 59.2202) (65.5808, 26.75, 54.6274) (65.5808, 19.25, 54.6274) (60.988, 15.5, 59.2202) (56.3952, 19.25, 63.813) (56.3952, 26.75, 63.813)
sketch "Эскиз7" plane through (0, 35, 0) normal (0, 1, 0) x (1, 0, 0)
  circle A0 centre (0, 0) radius 98
  line L0 (82.7607, -52.4849) -> (97.5457, -54.758)
  line L1 (97.5457, -54.758) -> (99.702, -44.1001)
  line L2 (99.702, -44.1001) -> (90.5883, -37.3867)
  dimension "d98" = 196
extrude "Выдавливание15" cut sketch "Эскиз7" against normal blind 40 contours A0 L2 L1 L0
fillet "Сопряжение1" radius 2 2 edges at (85.9577, 17.5, 47.0668) (89.2556, 17.5, 40.4652)
properties part number "_3DПЕЧАТЬ"
